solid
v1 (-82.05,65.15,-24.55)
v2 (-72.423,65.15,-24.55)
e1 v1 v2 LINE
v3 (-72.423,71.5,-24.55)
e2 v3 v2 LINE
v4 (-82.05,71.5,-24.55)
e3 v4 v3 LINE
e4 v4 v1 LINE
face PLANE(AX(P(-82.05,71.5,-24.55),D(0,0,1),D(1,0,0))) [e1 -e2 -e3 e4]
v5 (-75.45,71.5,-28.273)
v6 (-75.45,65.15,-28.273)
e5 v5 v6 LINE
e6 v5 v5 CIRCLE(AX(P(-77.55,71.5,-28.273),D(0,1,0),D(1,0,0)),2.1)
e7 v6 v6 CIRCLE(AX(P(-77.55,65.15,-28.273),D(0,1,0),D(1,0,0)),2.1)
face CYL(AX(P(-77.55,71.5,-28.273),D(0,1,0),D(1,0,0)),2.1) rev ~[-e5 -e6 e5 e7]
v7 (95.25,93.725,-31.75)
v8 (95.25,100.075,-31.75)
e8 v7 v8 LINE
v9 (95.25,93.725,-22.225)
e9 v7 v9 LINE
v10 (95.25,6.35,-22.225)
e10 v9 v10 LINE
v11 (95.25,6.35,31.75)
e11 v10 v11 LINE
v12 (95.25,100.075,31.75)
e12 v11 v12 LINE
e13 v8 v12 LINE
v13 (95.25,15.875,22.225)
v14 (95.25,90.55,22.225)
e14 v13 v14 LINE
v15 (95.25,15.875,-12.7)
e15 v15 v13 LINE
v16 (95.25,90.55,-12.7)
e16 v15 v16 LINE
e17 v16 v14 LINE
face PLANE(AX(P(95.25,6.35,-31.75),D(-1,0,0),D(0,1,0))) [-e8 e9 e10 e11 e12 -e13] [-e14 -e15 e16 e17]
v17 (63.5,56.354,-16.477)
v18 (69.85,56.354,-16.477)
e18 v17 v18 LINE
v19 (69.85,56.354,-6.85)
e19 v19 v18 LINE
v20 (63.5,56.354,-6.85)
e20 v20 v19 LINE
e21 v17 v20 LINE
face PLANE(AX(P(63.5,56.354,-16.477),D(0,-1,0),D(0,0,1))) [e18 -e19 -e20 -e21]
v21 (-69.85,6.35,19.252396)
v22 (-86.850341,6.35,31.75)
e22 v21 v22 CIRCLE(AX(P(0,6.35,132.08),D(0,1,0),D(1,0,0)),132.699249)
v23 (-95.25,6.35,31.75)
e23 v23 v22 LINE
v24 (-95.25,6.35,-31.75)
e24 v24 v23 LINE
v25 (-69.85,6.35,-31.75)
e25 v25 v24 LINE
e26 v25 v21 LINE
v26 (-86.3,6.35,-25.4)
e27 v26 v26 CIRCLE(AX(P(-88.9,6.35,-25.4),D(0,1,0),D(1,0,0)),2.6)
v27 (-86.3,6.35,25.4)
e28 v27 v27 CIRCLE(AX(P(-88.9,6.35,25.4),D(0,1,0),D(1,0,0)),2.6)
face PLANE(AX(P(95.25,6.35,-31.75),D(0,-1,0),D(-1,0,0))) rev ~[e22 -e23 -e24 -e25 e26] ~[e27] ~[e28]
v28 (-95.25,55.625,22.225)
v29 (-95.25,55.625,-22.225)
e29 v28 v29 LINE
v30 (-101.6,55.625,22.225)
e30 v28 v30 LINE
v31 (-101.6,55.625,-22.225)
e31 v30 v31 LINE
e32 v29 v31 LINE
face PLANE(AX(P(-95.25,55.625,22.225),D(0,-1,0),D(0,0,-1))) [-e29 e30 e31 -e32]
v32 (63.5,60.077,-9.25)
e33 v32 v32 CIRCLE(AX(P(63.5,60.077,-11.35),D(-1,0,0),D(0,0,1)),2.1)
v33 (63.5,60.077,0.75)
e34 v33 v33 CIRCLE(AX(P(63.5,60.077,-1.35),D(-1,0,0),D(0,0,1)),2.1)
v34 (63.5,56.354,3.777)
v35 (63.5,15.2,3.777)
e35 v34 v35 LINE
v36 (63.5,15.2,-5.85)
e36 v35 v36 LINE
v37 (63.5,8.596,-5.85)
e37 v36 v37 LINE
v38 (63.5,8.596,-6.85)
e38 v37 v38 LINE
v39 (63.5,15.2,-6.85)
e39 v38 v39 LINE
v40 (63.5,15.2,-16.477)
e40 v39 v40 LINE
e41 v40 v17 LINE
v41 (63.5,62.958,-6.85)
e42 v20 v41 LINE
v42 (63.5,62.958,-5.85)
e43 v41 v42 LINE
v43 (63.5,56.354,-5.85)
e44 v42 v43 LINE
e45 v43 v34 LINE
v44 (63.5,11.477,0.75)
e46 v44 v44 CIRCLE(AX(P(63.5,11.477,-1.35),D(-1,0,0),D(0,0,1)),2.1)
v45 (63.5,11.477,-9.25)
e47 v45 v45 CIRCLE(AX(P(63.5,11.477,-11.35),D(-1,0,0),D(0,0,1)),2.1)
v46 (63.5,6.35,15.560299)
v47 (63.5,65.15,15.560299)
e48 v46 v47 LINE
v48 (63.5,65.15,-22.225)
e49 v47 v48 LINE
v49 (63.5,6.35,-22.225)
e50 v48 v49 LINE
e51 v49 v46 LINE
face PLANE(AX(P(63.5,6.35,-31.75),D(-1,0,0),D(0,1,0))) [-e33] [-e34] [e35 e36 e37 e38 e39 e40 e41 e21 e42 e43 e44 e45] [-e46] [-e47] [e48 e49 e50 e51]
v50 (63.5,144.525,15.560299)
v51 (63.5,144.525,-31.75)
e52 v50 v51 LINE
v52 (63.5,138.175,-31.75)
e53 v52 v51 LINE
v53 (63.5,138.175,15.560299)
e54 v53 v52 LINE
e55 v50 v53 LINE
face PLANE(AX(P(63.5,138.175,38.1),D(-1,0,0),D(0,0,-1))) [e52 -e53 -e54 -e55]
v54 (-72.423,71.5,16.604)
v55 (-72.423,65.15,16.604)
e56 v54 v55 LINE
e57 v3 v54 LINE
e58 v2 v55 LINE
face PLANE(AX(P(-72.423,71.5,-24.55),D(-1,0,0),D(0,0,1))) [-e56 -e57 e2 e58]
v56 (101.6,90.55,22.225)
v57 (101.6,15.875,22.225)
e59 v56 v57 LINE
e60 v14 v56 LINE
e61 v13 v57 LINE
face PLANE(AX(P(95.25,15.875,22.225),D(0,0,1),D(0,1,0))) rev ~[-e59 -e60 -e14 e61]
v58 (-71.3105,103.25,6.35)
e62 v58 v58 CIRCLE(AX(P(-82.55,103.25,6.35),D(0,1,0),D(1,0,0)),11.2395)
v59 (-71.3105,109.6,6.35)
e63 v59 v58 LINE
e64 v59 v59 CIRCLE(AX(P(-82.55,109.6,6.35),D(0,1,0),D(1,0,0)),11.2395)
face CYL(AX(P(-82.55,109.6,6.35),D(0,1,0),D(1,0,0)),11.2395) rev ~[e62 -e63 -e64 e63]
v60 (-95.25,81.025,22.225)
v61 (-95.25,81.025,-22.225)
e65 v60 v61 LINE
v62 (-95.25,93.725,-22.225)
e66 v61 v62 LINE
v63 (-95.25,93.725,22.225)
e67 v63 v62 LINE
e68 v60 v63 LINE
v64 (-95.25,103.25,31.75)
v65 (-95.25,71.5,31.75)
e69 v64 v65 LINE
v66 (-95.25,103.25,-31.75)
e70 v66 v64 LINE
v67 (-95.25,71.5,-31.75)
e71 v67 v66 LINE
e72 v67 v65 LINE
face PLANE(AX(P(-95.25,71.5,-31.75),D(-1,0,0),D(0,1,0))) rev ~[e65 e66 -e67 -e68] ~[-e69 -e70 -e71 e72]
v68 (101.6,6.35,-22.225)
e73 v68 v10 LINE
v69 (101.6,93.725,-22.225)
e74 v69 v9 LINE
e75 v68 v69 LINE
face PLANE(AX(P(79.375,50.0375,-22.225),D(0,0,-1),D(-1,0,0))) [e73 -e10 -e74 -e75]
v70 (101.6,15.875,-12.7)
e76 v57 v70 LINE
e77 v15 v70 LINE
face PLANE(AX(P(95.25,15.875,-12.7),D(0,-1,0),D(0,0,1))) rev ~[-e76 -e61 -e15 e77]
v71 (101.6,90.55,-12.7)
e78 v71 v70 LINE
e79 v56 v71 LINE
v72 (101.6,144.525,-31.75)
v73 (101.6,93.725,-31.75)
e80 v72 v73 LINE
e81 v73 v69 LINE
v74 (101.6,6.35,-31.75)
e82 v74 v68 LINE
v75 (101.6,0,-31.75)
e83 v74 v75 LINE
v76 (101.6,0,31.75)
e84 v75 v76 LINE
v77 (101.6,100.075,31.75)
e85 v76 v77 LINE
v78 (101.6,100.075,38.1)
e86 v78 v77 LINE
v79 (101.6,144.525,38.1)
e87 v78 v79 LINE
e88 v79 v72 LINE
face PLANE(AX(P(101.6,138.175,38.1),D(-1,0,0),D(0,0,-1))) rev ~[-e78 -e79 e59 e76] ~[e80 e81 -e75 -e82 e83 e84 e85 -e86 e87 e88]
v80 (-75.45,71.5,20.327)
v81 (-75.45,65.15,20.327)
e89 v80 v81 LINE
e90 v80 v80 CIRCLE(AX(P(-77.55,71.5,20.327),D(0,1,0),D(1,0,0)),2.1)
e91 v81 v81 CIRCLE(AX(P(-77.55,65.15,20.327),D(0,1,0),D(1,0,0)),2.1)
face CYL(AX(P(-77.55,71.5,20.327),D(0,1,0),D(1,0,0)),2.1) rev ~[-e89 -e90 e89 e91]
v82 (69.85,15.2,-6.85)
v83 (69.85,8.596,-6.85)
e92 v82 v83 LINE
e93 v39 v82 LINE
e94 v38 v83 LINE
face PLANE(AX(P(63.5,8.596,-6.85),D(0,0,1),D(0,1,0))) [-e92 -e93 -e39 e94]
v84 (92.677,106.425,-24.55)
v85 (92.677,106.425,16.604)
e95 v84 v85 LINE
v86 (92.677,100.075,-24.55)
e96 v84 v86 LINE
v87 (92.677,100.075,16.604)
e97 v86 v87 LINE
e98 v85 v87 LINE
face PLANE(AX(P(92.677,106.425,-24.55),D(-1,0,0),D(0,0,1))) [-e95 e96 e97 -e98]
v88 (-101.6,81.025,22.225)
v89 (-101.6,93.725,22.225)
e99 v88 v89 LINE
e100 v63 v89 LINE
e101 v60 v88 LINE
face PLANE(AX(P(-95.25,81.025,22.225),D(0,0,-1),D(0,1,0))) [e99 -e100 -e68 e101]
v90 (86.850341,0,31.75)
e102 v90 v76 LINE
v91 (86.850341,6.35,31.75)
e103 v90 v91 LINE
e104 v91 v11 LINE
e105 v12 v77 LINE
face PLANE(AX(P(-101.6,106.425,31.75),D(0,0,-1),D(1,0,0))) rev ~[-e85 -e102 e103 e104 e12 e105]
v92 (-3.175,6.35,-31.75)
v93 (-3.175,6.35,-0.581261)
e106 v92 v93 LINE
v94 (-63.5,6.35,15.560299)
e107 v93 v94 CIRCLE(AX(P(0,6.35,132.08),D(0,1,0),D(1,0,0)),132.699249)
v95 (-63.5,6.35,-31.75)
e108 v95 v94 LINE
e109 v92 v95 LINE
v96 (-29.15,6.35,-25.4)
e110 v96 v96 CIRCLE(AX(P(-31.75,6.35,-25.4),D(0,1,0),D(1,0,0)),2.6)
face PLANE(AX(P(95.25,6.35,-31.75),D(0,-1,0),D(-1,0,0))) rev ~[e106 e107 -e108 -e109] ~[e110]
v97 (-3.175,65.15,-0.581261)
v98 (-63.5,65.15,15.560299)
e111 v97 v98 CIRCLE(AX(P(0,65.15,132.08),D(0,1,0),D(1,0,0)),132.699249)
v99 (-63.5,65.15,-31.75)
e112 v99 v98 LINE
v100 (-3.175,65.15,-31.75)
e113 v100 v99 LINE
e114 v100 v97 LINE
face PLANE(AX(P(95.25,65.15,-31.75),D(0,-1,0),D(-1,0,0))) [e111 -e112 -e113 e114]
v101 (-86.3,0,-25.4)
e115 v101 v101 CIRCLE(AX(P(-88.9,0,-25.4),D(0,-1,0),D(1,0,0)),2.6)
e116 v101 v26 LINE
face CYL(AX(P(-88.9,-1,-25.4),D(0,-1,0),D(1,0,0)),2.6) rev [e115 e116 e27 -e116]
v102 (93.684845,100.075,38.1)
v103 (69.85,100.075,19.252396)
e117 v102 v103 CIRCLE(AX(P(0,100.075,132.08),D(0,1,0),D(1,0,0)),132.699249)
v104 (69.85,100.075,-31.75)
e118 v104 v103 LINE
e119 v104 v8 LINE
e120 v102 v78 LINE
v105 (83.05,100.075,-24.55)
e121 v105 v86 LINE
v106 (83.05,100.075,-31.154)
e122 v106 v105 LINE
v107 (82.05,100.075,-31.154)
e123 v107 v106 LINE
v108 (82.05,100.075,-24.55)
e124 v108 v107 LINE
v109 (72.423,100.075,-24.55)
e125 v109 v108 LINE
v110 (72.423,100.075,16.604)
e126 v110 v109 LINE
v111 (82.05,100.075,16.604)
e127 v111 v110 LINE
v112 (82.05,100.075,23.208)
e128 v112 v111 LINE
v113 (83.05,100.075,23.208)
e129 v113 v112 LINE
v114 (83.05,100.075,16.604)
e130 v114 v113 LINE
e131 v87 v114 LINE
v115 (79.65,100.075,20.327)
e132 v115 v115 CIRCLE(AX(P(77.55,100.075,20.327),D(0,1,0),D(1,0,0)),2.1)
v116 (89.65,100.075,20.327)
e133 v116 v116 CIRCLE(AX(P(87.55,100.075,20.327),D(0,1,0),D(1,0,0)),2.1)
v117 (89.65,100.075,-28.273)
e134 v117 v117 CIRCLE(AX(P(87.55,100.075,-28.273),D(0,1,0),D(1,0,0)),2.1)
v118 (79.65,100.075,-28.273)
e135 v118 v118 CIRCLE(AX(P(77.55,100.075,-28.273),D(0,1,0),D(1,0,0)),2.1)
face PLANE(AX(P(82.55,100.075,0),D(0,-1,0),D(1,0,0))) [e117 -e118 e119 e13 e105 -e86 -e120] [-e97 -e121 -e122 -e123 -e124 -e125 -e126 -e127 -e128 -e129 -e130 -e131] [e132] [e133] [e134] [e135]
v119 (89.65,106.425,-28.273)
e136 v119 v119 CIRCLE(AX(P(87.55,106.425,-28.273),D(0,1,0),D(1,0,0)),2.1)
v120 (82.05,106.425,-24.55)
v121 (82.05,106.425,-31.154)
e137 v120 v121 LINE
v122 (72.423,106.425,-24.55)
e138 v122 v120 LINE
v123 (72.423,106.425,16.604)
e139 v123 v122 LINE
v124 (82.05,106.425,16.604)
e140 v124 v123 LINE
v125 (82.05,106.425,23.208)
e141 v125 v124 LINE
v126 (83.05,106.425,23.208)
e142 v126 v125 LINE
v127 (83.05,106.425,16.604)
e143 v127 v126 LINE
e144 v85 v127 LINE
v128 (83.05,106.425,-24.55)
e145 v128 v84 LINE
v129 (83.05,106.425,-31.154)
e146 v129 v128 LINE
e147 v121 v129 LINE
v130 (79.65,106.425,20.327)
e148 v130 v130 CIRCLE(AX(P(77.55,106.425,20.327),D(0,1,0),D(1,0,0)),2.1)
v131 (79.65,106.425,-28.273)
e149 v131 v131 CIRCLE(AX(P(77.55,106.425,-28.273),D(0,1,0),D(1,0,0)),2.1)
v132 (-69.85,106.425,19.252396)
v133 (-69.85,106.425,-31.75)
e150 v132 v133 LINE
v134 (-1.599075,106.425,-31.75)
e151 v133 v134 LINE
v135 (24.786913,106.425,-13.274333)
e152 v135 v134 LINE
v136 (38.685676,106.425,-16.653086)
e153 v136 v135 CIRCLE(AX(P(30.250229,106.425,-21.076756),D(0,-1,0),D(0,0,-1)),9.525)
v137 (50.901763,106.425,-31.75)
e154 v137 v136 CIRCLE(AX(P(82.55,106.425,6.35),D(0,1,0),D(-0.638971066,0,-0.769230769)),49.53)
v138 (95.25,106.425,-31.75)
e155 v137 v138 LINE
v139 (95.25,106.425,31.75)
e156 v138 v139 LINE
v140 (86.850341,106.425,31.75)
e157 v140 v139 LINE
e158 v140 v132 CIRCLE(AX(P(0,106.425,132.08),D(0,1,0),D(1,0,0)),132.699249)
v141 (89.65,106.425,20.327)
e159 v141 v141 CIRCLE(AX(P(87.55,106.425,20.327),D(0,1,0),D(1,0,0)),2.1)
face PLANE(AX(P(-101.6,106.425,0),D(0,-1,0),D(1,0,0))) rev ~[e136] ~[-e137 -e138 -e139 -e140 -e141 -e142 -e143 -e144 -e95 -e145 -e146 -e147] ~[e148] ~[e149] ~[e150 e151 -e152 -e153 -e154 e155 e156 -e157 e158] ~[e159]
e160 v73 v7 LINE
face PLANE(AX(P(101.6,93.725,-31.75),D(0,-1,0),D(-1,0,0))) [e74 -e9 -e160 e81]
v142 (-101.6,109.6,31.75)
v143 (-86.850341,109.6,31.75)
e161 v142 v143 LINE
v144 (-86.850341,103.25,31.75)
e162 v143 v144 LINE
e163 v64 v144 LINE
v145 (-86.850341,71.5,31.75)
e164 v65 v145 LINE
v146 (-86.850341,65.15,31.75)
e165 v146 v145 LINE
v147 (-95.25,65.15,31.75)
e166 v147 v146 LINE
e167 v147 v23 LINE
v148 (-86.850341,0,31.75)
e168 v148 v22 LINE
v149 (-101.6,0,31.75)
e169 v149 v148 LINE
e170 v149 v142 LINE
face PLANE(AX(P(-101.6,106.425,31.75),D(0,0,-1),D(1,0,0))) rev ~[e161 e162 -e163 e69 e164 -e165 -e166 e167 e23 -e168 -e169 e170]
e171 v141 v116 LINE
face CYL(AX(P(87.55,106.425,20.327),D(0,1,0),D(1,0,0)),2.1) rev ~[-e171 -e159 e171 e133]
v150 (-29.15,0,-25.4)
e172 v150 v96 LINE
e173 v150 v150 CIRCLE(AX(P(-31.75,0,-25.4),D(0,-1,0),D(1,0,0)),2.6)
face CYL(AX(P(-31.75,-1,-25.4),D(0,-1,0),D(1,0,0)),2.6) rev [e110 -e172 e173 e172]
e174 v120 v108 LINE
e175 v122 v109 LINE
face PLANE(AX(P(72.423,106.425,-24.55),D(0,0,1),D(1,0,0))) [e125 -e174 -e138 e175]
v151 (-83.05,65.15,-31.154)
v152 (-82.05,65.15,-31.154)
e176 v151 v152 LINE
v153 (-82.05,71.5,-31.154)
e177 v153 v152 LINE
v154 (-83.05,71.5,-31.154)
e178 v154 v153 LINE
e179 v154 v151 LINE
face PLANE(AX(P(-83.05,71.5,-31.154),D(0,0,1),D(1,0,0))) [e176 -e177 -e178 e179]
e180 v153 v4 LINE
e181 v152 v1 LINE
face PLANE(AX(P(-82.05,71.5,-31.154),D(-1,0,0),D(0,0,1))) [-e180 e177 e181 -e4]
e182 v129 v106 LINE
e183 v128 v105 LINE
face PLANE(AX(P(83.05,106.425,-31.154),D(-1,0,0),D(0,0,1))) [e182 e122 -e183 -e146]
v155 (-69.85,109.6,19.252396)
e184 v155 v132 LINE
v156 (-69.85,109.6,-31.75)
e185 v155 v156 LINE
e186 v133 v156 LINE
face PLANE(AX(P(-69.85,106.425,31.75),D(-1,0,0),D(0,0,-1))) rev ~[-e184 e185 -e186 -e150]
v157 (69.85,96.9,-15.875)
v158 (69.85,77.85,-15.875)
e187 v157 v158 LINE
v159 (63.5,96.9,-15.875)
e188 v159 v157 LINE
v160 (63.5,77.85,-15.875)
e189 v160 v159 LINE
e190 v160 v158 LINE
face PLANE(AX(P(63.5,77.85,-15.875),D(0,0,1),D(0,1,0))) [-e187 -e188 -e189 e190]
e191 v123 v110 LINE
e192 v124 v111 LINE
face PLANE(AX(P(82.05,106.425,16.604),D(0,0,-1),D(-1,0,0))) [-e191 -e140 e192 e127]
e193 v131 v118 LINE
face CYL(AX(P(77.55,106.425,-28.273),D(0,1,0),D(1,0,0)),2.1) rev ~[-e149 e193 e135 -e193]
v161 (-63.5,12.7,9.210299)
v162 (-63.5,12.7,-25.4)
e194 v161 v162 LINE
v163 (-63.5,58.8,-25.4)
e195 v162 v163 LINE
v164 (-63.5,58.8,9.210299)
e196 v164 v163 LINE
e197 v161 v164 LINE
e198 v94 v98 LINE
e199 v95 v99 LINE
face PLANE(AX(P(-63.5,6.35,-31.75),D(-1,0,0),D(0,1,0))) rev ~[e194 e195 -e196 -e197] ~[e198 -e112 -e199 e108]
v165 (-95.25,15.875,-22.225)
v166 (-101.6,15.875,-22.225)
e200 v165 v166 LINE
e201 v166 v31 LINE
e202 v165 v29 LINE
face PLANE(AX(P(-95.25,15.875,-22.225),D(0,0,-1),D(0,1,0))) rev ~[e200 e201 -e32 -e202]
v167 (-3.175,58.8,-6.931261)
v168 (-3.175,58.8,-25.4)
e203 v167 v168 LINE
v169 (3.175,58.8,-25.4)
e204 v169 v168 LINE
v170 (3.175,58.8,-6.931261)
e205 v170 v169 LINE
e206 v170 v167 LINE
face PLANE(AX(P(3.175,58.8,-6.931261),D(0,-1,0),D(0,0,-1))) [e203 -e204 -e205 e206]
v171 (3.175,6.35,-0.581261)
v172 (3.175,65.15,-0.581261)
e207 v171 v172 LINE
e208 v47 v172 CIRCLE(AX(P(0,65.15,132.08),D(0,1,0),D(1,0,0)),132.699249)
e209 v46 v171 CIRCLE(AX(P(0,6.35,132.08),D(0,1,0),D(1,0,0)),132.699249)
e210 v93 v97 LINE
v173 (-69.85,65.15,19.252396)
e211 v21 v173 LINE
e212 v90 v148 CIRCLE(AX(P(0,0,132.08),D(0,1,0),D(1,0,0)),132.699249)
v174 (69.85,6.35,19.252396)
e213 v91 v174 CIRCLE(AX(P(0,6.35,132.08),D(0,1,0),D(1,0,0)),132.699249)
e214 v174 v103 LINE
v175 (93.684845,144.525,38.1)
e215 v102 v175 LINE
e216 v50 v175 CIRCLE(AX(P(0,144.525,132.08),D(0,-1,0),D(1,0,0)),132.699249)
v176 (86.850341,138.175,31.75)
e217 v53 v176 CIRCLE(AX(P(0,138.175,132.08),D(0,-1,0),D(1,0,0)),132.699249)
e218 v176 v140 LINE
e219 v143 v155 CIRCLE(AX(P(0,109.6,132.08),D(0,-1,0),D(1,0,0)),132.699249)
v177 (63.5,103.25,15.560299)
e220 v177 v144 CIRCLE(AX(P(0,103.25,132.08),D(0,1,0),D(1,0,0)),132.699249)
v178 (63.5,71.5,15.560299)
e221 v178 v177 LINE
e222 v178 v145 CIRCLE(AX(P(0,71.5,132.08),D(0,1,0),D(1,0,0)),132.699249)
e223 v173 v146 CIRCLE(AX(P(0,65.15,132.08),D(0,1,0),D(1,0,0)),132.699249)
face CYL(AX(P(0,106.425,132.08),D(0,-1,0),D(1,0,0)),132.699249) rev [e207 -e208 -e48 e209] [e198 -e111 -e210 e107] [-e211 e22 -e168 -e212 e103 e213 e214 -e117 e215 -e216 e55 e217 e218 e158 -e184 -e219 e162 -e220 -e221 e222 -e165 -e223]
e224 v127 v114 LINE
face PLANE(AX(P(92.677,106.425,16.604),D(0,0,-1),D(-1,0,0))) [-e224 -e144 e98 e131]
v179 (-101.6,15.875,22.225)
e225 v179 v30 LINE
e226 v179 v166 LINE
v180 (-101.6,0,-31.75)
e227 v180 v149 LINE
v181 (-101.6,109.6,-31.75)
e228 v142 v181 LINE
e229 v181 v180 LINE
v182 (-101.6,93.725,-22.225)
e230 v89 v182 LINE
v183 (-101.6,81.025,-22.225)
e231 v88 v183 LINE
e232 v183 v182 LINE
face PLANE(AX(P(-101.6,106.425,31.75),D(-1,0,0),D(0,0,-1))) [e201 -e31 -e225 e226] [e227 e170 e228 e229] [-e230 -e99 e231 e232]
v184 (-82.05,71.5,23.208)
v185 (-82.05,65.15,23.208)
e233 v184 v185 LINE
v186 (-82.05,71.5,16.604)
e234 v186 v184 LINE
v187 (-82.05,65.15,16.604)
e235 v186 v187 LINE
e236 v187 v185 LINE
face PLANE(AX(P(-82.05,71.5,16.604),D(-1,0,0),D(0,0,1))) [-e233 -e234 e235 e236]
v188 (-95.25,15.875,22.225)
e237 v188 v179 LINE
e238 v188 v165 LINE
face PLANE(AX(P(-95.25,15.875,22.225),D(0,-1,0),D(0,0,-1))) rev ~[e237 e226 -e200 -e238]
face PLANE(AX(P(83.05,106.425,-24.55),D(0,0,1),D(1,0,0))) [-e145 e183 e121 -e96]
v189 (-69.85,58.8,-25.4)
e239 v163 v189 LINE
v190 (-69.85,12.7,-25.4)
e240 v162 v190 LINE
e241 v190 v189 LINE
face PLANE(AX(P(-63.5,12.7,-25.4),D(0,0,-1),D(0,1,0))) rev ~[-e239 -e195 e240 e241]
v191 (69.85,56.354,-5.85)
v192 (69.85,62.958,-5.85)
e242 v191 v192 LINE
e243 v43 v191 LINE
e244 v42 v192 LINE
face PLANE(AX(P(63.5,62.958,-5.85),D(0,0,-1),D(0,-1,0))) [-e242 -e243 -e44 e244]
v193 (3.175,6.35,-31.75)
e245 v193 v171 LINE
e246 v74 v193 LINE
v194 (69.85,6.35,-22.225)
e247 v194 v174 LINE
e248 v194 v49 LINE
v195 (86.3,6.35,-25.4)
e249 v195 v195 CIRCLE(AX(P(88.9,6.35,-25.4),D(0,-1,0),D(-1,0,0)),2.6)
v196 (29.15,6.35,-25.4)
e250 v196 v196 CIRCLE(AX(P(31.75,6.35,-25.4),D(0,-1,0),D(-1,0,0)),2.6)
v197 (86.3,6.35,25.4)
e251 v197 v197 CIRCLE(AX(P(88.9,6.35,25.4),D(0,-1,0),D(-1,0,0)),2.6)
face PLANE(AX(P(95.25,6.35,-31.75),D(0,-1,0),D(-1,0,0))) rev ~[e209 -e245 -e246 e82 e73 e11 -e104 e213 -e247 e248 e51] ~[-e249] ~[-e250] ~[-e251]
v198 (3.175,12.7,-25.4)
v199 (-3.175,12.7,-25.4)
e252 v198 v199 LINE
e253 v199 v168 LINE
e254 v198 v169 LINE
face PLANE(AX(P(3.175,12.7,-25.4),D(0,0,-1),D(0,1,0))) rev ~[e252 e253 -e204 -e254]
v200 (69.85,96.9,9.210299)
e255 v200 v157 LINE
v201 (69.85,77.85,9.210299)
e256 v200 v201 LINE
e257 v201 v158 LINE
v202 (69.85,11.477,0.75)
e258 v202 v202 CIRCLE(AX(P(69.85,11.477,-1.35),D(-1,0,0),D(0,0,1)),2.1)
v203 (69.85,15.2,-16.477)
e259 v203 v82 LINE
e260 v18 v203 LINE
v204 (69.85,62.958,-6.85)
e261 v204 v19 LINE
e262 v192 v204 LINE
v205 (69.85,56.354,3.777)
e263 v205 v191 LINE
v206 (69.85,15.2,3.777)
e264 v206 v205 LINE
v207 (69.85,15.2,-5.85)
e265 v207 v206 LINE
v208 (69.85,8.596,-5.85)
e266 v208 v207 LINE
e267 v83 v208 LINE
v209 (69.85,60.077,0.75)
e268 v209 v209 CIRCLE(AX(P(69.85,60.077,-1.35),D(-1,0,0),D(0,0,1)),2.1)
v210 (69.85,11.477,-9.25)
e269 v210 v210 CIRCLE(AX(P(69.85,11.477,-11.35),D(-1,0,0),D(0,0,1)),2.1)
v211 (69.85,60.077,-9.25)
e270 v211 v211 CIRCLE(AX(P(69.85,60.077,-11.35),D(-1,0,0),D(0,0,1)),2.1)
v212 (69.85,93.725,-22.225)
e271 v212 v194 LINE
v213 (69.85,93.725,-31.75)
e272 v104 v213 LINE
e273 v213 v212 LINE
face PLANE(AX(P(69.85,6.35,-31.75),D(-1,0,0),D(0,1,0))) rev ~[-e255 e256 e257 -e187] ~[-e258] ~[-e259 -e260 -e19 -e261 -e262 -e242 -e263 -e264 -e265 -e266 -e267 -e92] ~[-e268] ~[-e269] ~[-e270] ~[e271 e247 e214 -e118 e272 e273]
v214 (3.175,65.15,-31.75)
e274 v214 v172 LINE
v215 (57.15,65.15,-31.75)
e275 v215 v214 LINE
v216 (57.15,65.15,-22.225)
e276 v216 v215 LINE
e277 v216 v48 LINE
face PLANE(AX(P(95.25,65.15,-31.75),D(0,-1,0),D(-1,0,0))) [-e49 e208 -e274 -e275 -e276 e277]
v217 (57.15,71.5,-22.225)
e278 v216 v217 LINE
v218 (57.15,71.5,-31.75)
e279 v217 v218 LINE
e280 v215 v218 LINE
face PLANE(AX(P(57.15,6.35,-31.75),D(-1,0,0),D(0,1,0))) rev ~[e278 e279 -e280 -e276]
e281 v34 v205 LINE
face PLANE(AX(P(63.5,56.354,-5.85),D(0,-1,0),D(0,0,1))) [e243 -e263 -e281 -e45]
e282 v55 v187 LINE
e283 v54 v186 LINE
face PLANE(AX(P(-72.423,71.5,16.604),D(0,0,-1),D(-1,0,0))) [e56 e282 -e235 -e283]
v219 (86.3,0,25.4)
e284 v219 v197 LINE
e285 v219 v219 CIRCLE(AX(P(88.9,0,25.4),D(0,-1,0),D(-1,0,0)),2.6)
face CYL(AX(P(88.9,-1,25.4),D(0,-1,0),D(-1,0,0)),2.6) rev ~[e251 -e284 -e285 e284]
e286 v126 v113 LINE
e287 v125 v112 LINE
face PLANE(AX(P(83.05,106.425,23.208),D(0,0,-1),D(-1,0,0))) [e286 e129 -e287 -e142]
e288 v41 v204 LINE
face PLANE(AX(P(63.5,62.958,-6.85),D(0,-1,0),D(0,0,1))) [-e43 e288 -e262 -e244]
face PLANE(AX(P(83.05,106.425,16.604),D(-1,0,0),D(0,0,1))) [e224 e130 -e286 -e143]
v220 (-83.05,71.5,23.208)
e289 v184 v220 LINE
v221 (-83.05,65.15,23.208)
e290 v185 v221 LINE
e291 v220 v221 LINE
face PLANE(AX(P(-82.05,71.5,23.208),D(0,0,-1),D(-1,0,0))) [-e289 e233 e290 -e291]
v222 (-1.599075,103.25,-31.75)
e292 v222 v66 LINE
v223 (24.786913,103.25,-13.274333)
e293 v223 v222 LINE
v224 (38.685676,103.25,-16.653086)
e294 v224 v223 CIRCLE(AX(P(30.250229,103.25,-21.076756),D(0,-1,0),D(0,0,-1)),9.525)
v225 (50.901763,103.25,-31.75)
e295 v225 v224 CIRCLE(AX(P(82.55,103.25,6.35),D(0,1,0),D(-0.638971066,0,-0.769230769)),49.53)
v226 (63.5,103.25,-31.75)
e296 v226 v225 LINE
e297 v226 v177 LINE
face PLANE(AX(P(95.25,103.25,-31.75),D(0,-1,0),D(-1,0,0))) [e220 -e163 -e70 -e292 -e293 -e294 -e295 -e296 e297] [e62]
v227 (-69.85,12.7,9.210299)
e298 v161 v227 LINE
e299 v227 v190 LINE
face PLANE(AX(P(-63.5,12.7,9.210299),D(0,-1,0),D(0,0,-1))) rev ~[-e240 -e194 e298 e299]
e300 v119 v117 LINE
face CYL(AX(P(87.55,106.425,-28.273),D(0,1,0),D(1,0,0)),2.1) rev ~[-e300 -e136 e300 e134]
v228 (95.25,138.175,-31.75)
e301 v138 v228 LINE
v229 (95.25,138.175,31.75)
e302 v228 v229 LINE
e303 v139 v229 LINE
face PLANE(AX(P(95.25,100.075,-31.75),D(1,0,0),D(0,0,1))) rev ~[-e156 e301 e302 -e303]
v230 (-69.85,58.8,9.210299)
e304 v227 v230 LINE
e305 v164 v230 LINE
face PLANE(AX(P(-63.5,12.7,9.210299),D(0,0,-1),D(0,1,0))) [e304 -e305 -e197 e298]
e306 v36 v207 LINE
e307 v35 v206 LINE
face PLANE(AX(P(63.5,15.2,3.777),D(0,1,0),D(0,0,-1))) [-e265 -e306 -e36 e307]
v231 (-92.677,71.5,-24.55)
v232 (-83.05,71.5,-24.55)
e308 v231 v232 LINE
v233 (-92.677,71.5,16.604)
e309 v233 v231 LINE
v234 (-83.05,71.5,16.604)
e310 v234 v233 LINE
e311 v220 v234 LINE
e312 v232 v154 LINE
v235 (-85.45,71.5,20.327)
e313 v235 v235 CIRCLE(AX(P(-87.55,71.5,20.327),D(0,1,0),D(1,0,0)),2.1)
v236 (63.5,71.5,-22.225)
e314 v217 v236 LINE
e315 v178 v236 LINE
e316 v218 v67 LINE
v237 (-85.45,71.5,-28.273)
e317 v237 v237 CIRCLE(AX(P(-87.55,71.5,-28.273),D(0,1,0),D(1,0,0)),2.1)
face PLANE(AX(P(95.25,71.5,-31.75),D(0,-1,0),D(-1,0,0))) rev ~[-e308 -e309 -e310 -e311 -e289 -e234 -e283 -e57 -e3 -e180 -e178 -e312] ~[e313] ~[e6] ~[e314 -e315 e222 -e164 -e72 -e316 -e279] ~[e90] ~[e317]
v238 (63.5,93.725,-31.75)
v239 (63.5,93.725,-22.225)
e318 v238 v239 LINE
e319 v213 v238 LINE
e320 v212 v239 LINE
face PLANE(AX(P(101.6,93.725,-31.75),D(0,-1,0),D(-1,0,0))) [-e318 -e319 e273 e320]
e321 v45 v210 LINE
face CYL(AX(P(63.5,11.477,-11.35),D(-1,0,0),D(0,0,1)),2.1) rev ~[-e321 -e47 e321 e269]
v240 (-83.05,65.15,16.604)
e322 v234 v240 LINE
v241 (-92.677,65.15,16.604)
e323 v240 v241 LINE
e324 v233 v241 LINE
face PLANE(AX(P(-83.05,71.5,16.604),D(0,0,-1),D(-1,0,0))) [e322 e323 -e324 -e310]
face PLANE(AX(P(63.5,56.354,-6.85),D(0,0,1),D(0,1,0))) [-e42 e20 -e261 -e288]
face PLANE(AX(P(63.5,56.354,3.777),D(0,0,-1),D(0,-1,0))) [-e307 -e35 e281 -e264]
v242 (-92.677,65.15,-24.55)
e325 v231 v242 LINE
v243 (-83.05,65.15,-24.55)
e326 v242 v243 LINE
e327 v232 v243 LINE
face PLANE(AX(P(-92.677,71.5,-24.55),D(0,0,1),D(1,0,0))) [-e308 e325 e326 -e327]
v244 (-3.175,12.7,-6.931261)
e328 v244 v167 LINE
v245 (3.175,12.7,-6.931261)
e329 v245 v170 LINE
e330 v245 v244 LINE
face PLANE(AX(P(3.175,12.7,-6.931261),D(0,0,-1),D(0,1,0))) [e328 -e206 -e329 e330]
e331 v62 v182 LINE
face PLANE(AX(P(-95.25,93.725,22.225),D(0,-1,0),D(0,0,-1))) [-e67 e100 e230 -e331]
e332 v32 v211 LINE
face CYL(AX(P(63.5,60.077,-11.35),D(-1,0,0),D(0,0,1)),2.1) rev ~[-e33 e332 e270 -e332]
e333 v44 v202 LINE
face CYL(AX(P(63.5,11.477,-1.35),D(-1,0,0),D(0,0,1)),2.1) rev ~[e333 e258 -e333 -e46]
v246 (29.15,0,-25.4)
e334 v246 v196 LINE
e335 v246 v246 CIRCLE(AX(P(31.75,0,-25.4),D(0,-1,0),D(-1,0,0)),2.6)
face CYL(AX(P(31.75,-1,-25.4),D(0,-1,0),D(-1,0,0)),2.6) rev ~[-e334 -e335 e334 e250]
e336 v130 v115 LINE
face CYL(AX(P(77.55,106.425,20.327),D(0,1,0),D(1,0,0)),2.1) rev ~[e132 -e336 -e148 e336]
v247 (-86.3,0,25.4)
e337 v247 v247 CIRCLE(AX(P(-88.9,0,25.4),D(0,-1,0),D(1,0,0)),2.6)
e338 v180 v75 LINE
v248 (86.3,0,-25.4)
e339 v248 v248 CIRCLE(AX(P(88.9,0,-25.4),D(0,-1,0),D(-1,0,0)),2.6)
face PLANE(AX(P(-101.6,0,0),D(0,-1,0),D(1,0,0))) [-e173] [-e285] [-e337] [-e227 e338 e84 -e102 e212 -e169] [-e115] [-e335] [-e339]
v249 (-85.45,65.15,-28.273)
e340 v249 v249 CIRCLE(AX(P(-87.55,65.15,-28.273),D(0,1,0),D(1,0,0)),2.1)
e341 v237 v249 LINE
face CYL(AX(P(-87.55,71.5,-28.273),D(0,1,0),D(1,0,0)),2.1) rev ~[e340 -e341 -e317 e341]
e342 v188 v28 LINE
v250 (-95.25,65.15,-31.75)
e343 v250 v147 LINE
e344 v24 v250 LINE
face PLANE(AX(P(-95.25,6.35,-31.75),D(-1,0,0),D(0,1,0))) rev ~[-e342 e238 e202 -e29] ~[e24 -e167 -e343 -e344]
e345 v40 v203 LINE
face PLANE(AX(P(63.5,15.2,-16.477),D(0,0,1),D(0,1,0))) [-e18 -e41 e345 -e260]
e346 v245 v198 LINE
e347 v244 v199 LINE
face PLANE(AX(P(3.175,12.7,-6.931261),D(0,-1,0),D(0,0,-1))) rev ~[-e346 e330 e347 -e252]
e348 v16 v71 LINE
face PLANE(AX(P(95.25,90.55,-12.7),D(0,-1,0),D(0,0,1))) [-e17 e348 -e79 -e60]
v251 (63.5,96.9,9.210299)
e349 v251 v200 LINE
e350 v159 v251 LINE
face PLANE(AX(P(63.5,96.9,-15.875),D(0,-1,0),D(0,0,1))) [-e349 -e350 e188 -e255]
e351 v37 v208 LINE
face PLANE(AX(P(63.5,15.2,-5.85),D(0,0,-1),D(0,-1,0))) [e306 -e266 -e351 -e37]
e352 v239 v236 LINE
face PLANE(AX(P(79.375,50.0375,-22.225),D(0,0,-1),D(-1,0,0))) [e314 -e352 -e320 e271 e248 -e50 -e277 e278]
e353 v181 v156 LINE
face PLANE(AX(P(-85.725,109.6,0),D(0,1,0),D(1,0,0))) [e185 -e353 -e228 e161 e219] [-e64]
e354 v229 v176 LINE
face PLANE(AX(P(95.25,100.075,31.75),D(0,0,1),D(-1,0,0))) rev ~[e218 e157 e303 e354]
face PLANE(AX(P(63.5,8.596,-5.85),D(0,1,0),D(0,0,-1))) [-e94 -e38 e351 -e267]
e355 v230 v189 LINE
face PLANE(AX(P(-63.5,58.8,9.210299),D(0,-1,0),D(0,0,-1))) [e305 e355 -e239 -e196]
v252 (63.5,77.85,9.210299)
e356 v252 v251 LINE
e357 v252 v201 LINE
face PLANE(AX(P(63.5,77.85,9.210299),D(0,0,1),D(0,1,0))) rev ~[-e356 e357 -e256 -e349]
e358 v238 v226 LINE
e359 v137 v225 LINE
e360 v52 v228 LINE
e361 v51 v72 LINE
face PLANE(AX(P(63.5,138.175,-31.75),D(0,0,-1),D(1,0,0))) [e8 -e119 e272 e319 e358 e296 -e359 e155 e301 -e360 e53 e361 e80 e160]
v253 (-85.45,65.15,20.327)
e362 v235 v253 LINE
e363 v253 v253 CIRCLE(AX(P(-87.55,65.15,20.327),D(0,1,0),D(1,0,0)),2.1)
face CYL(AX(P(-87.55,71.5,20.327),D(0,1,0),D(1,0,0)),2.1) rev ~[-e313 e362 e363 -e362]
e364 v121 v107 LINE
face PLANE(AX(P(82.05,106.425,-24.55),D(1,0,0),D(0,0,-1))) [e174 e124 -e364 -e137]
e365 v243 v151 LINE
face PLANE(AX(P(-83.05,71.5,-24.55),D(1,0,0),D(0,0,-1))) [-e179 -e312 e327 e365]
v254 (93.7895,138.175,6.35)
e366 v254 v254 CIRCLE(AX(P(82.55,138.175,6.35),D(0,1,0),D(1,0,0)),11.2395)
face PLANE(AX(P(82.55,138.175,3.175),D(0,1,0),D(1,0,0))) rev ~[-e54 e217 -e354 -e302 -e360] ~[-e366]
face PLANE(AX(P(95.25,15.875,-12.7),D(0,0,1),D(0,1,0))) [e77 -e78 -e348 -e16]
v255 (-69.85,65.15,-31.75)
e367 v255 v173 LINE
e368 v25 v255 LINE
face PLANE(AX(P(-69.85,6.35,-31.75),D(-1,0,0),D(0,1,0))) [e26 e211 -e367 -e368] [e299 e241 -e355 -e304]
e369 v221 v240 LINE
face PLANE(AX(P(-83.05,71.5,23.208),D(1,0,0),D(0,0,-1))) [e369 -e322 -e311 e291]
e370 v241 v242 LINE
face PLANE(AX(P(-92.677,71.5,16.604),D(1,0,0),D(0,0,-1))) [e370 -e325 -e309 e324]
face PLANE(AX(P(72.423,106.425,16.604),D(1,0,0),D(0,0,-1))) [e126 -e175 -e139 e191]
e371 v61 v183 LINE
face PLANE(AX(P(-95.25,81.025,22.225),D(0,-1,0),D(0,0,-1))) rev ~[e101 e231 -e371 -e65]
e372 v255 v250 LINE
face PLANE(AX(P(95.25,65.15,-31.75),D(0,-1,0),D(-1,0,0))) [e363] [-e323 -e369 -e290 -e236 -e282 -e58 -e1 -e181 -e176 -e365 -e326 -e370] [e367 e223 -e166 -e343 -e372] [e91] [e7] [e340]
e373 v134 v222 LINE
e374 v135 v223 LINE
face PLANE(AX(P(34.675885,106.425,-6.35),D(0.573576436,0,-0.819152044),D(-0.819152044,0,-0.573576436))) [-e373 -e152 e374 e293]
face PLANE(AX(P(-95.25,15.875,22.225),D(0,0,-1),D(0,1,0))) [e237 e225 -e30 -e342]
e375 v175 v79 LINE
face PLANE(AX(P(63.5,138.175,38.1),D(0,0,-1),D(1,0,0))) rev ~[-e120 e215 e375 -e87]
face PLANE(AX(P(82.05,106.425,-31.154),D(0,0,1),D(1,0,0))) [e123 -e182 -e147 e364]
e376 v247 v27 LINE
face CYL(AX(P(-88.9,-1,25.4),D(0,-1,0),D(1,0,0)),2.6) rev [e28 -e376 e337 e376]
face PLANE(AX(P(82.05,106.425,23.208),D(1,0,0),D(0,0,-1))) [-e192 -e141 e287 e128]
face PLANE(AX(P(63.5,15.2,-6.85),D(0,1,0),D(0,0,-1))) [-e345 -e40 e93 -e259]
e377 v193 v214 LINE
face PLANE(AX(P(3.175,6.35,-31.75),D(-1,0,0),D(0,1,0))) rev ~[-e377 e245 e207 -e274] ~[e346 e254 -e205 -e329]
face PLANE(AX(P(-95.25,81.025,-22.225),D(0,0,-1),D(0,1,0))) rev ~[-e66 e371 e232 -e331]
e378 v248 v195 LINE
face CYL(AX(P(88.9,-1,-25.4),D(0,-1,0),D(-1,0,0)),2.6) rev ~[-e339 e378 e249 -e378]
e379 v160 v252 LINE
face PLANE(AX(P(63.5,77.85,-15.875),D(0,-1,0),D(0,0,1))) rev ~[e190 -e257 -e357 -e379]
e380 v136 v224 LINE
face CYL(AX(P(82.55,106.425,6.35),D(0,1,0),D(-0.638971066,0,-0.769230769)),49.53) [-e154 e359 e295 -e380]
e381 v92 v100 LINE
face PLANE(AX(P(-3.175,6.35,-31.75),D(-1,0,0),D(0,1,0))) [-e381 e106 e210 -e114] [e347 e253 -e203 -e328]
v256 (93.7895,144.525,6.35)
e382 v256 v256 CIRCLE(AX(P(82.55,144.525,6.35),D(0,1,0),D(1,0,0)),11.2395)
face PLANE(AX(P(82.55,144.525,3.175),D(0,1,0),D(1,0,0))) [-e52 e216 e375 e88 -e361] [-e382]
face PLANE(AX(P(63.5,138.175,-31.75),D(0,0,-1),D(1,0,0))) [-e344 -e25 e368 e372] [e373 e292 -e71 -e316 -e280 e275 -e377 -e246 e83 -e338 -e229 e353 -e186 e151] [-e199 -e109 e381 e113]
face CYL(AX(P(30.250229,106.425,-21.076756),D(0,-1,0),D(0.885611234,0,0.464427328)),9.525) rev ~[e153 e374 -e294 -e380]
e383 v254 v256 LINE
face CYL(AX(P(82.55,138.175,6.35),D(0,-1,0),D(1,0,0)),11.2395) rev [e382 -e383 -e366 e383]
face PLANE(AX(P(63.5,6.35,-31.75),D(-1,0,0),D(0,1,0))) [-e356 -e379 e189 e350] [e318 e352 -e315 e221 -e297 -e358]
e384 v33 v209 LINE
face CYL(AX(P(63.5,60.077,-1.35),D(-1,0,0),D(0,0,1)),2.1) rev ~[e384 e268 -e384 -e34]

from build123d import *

# Parameters (mm, degrees)
SKETCH1_W               = 203.2
SKETCH1_H               = 106.425000002
BOSS_EXTRUDE1_DEPTH     = 31.75
SKETCH4_W               = 190.5
SKETCH4_H               = 31.75
SKETCH4_H_2             = 58.800000002
CUT_EXTRUDE2_DEPTH      = 64.5
BOSS_EXTRUDE2_START     = -31.75
SKETCH8_W               = 6.35
SKETCH8_H               = 58.800000002
SKETCH8_H_2             = 96.900000002
BOSS_EXTRUDE2_DEPTH     = 63.5
SKETCH15_W              = 25.4
SKETCH15_H              = 63.5
BOSS_EXTRUDE4_DEPTH     = 3.175
CUT_EXTRUDE3_REACH      = 73.5
SKETCH2_R               = 2.099999991
SKETCH2_W               = 25.4
SKETCH2_H               = 63.5
CUT_EXTRUDE4_REACH      = 108.425
SKETCH9_R               = 2.099999991
CUT_EXTRUDE7_START      = -1
SKETCH12_R              = 2.600000007
CUT_EXTRUDE7_DEPTH      = 7.35
SKETCH16_W              = 31.75
SKETCH16_H              = 63.5
BOSS_EXTRUDE5_DEPTH     = 3.175
CUT_EXTRUDE8_REACH      = 111.6
SKETCH17_R              = 11.2395
BOSS_EXTRUDE6_START     = -6.35
BOSS_EXTRUDE6_DEPTH     = 38.1
SKETCH20_W              = 38.1
SKETCH20_H              = 69.85
SKETCH20_R              = 11.2395
BOSS_EXTRUDE7_DEPTH     = 6.35
SKETCH10_R              = 132.699248966
CUT_EXTRUDE5_DEPTH      = 39.1
CUT_EXTRUDE5_DEPTH_BACK = 107.425000002
CUT_EXTRUDE10_DEPTH     = 3.175
SKETCH23_W              = 44.45
SKETCH23_H              = 87.375000002
CUT_EXTRUDE11_DEPTH     = 9.525
CUT_EXTRUDE12_REACH     = 40.1
SKETCH24_R              = 2.099999991
CUT_EXTRUDE13_REACH     = 8.35
SKETCH26_W              = 34.925
SKETCH26_H              = 74.675000002
CUT_EXTRUDE14_REACH     = 40.1
SKETCH27_W              = 25.085299193
SKETCH27_H              = 19.05
CUT_EXTRUDE15_REACH     = 106.775
SKETCH28_W              = 18.468739448
SKETCH28_H              = 46.100000002
CUT_EXTRUDE16_REACH     = 40.1
SKETCH29_W              = 34.610299193
SKETCH29_H              = 46.100000002
CUT_EXTRUDE17_REACH     = 8.35
SKETCH30_W              = 44.45
SKETCH30_H              = 39.750000002
CUT_EXTRUDE18_REACH     = 8.35
SKETCH31_W              = 44.45
SKETCH31_H              = 12.7
FILLET1_R               = 9.525


with BuildPart() as part:
    # Sketch1 → Boss-Extrude1 (new body, symmetric)
    with BuildSketch(Plane.XY):
        with Locations((0, 53.212500001)):
            Rectangle(SKETCH1_W, SKETCH1_H)
    extrude(amount=BOSS_EXTRUDE1_DEPTH, both=True)

    # Sketch4 → Cut-Extrude2 (cut, through all)
    with BuildSketch(Plane(origin=(0, 0, -31.75), x_dir=(-1, 0, 0), z_dir=(0, 0, -1))):
        with Locations((0, 87.375000002)):
            Rectangle(SKETCH4_W, SKETCH4_H)
        with Locations((0, 35.750000001)):
            Rectangle(SKETCH4_W, SKETCH4_H_2)
    extrude(amount=-CUT_EXTRUDE2_DEPTH, mode=Mode.SUBTRACT)

    # Sketch8 → Boss-Extrude2 (add)
    with BuildSketch(Plane.XY.offset(BOSS_EXTRUDE2_START)):
        with Locations((-66.675, 35.750000001)):
            Rectangle(SKETCH8_W, SKETCH8_H)
        with Locations((66.675, 54.800000001)):
            Rectangle(SKETCH8_W, SKETCH8_H_2)
        with Locations((0, 35.750000001)):
            Rectangle(SKETCH8_W, SKETCH8_H)
    extrude(amount=BOSS_EXTRUDE2_DEPTH)

    # Sketch15 → Boss-Extrude4 (add)
    with BuildSketch(Plane.XZ.offset(-103.250000002)):
        with Locations((82.55, 0)):
            Rectangle(SKETCH15_W, SKETCH15_H)
    extrude(amount=BOSS_EXTRUDE4_DEPTH)

    # Sketch2 → Cut-Extrude3 (cut, up to next)
    with BuildSketch(Plane(origin=(0, 71.500000002, 0), x_dir=(1, 0, 0), z_dir=(0, 1, 0)), mode=Mode.PRIVATE) as cut_extrude3_sk1:
        with Locations((-87.550000033, -20.327000113)):
            Circle(SKETCH2_R)
    cut_extrude3_tool1 = extrude(cut_extrude3_sk1.sketch, amount=-CUT_EXTRUDE3_REACH, mode=Mode.PRIVATE) & part.part
    add(cut_extrude3_tool1.solids().sort_by_distance((-87.55, 71.5, 20.327))[0], mode=Mode.SUBTRACT)
    # Sketch2 → Cut-Extrude3 (cut, up to next)
    with BuildSketch(Plane(origin=(0, 71.500000002, 0), x_dir=(1, 0, 0), z_dir=(0, 1, 0)), mode=Mode.PRIVATE) as cut_extrude3_sk2:
        with Locations((-77.549999967, -20.327000113)):
            Circle(SKETCH2_R)
    cut_extrude3_tool2 = extrude(cut_extrude3_sk2.sketch, amount=-CUT_EXTRUDE3_REACH, mode=Mode.PRIVATE) & part.part
    add(cut_extrude3_tool2.solids().sort_by_distance((-77.55, 71.5, 20.327))[0], mode=Mode.SUBTRACT)
    # Sketch2 → Cut-Extrude3 (cut, up to next)
    with BuildSketch(Plane(origin=(0, 71.500000002, 0), x_dir=(1, 0, 0), z_dir=(0, 1, 0)), mode=Mode.PRIVATE) as cut_extrude3_sk3:
        with Locations((-87.550000033, 28.272999969)):
            Circle(SKETCH2_R)
    cut_extrude3_tool3 = extrude(cut_extrude3_sk3.sketch, amount=-CUT_EXTRUDE3_REACH, mode=Mode.PRIVATE) & part.part
    add(cut_extrude3_tool3.solids().sort_by_distance((-87.55, 71.5, -28.273))[0], mode=Mode.SUBTRACT)
    # Sketch2 → Cut-Extrude3 (cut, up to next)
    with BuildSketch(Plane(origin=(0, 71.500000002, 0), x_dir=(1, 0, 0), z_dir=(0, 1, 0)), mode=Mode.PRIVATE) as cut_extrude3_sk4:
        with Locations((-77.549999967, 28.272999969)):
            Circle(SKETCH2_R)
    cut_extrude3_tool4 = extrude(cut_extrude3_sk4.sketch, amount=-CUT_EXTRUDE3_REACH, mode=Mode.PRIVATE) & part.part
    add(cut_extrude3_tool4.solids().sort_by_distance((-77.55, 71.5, -28.273))[0], mode=Mode.SUBTRACT)
    # Sketch2 → Cut-Extrude3 (cut, up to next)
    with BuildSketch(Plane(origin=(0, 71.500000002, 0), x_dir=(1, 0, 0), z_dir=(0, 1, 0)), mode=Mode.PRIVATE) as cut_extrude3_sk5:
        Polygon((-92.676999939, 24.549999922), (-83.05, 24.549999922), (-83.05, 31.153999922), (-82.05, 31.153999922), (-82.05, 24.549999922), (-72.423000061, 24.549999922), (-72.423000061, -16.604000066), (-82.05, -16.604000066), (-82.05, -23.208000066), (-83.05, -23.208000066), (-83.05, -16.604000066), (-92.676999939, -16.604000066), align=None)
    cut_extrude3_tool5 = extrude(cut_extrude3_sk5.sketch, amount=-CUT_EXTRUDE3_REACH, mode=Mode.PRIVATE) & part.part
    add(cut_extrude3_tool5.solids().sort_by_distance((-82.55, 71.5, -3.973))[0], mode=Mode.SUBTRACT)
    # Sketch2 → Cut-Extrude3 (cut, up to next)
    with BuildSketch(Plane(origin=(0, 71.500000002, 0), x_dir=(1, 0, 0), z_dir=(0, 1, 0)), mode=Mode.PRIVATE) as cut_extrude3_sk6:
        with Locations((82.55, 0)):
            Rectangle(SKETCH2_W, SKETCH2_H)
    cut_extrude3_tool6 = extrude(cut_extrude3_sk6.sketch, amount=-CUT_EXTRUDE3_REACH, mode=Mode.PRIVATE) & part.part
    add(cut_extrude3_tool6.solids().sort_by_distance((82.55, 71.5, 0))[0], mode=Mode.SUBTRACT)

    # Sketch9 → Cut-Extrude4 (cut, up to next)
    with BuildSketch(Plane(origin=(0, 106.425000002, 0), x_dir=(1, 0, 0), z_dir=(0, 1, 0)), mode=Mode.PRIVATE) as cut_extrude4_sk1:
        with Locations((77.549999967, -20.327000113)):
            Circle(SKETCH9_R)
    cut_extrude4_tool1 = extrude(cut_extrude4_sk1.sketch, amount=-CUT_EXTRUDE4_REACH, mode=Mode.PRIVATE) & part.part
    add(cut_extrude4_tool1.solids().sort_by_distance((77.55, 106.425, 20.327))[0], mode=Mode.SUBTRACT)
    # Sketch9 → Cut-Extrude4 (cut, up to next)
    with BuildSketch(Plane(origin=(0, 106.425000002, 0), x_dir=(1, 0, 0), z_dir=(0, 1, 0)), mode=Mode.PRIVATE) as cut_extrude4_sk2:
        with Locations((87.550000033, -20.327000113)):
            Circle(SKETCH9_R)
    cut_extrude4_tool2 = extrude(cut_extrude4_sk2.sketch, amount=-CUT_EXTRUDE4_REACH, mode=Mode.PRIVATE) & part.part
    add(cut_extrude4_tool2.solids().sort_by_distance((87.55, 106.425, 20.327))[0], mode=Mode.SUBTRACT)
    # Sketch9 → Cut-Extrude4 (cut, up to next)
    with BuildSketch(Plane(origin=(0, 106.425000002, 0), x_dir=(1, 0, 0), z_dir=(0, 1, 0)), mode=Mode.PRIVATE) as cut_extrude4_sk3:
        with Locations((77.549999967, 28.272999969)):
            Circle(SKETCH9_R)
    cut_extrude4_tool3 = extrude(cut_extrude4_sk3.sketch, amount=-CUT_EXTRUDE4_REACH, mode=Mode.PRIVATE) & part.part
    add(cut_extrude4_tool3.solids().sort_by_distance((77.55, 106.425, -28.273))[0], mode=Mode.SUBTRACT)
    # Sketch9 → Cut-Extrude4 (cut, up to next)
    with BuildSketch(Plane(origin=(0, 106.425000002, 0), x_dir=(1, 0, 0), z_dir=(0, 1, 0)), mode=Mode.PRIVATE) as cut_extrude4_sk4:
        with Locations((87.550000033, 28.272999969)):
            Circle(SKETCH9_R)
    cut_extrude4_tool4 = extrude(cut_extrude4_sk4.sketch, amount=-CUT_EXTRUDE4_REACH, mode=Mode.PRIVATE) & part.part
    add(cut_extrude4_tool4.solids().sort_by_distance((87.55, 106.425, -28.273))[0], mode=Mode.SUBTRACT)
    # Sketch9 → Cut-Extrude4 (cut, up to next)
    with BuildSketch(Plane(origin=(0, 106.425000002, 0), x_dir=(1, 0, 0), z_dir=(0, 1, 0)), mode=Mode.PRIVATE) as cut_extrude4_sk5:
        Polygon((72.423000061, 24.549999922), (82.05, 24.549999922), (82.05, 31.153999922), (83.05, 31.153999922), (83.05, 24.549999922), (92.676999939, 24.549999922), (92.676999939, -16.604000066), (83.05, -16.604000066), (83.05, -23.208000066), (82.05, -23.208000066), (82.05, -16.604000066), (72.423000061, -16.604000066), align=None)
    cut_extrude4_tool5 = extrude(cut_extrude4_sk5.sketch, amount=-CUT_EXTRUDE4_REACH, mode=Mode.PRIVATE) & part.part
    add(cut_extrude4_tool5.solids().sort_by_distance((82.55, 106.425, -3.973))[0], mode=Mode.SUBTRACT)

    # Sketch12 → Cut-Extrude7 (cut)
    with BuildSketch(Plane(origin=(0, 0, 0), x_dir=(1, 0, 0), z_dir=(0, 1, 0)).offset(CUT_EXTRUDE7_START)):
        with Locations((-88.9, 25.4)):
            Circle(SKETCH12_R)
        with Locations((-88.9, -25.4)):
            Circle(SKETCH12_R)
        with Locations((-31.75, 25.4)):
            Circle(SKETCH12_R)
    cut_extrude7 = extrude(amount=CUT_EXTRUDE7_DEPTH, mode=Mode.SUBTRACT)

    # Mirror1: Cut-Extrude7 across plane
    add(cut_extrude7.mirror(Plane(origin=(0, 0, 0), x_dir=(0, 0, 1), z_dir=(1, 0, 0))), mode=Mode.SUBTRACT)

    # Sketch16 → Boss-Extrude5 (add)
    with BuildSketch(Plane(origin=(0, 106.425000002, 0), x_dir=(1, 0, 0), z_dir=(0, 1, 0))):
        with Locations((-85.725, 0)):
            Rectangle(SKETCH16_W, SKETCH16_H)
    extrude(amount=BOSS_EXTRUDE5_DEPTH)

    # Sketch17 → Cut-Extrude8 (cut, up to next)
    with BuildSketch(Plane(origin=(0, 109.600000002, 0), x_dir=(1, 0, 0), z_dir=(0, 1, 0)), mode=Mode.PRIVATE) as cut_extrude8_sk1:
        with Locations((-82.55, -6.35)):
            Circle(SKETCH17_R)
    cut_extrude8_tool1 = extrude(cut_extrude8_sk1.sketch, amount=-CUT_EXTRUDE8_REACH, mode=Mode.PRIVATE) & part.part
    add(cut_extrude8_tool1.solids().sort_by_distance((-82.55, 109.6, 6.35))[0], mode=Mode.SUBTRACT)

    # Sketch18 → Boss-Extrude6 (add)
    with BuildSketch(Plane(origin=(0, 106.425000002, 0), x_dir=(1, 0, 0), z_dir=(0, 1, 0)).offset(BOSS_EXTRUDE6_START)):
        Polygon((101.6, -31.75), (101.6, 31.75), (95.25, 31.75), (95.25, -31.75), (82.55, -31.75), (82.55, -38.1), (101.6, -38.1), align=None)
    extrude(amount=BOSS_EXTRUDE6_DEPTH)

    # Sketch20 → Boss-Extrude7 (add)
    with BuildSketch(Plane(origin=(0, 138.175000002, 0), x_dir=(1, 0, 0), z_dir=(0, 1, 0))):
        with Locations((82.55, -3.175)):
            Rectangle(SKETCH20_W, SKETCH20_H)
        with Locations((82.55, -6.35)):
            Circle(SKETCH20_R, mode=Mode.SUBTRACT)
    extrude(amount=BOSS_EXTRUDE7_DEPTH)

    # Sketch10 → Cut-Extrude5 (cut, two sides)
    with BuildSketch(Plane(origin=(0, 106.425000002, 0), x_dir=(1, 0, 0), z_dir=(0, 1, 0))) as cut_extrude5_sk:
        with Locations((0, -132.08)):
            Circle(SKETCH10_R)
    extrude(amount=CUT_EXTRUDE5_DEPTH, mode=Mode.SUBTRACT)
    extrude(cut_extrude5_sk.sketch, amount=-CUT_EXTRUDE5_DEPTH_BACK, mode=Mode.SUBTRACT)

    # Sketch21 → Cut-Extrude10 (cut)
    with BuildSketch(Plane(origin=(0, 106.425000002, 0), x_dir=(1, 0, 0), z_dir=(0, 1, 0))):
        with BuildLine():
            Line((34.675884865, 6.35), (-1.599074507, 31.75))
            Line((-1.599074507, 31.75), (50.901763082, 31.75))
            ThreePointArc((50.901763082, 31.75), (40.809838057, 20.314204113), (34.675884865, 6.35))
        make_face()
    extrude(amount=-CUT_EXTRUDE10_DEPTH, mode=Mode.SUBTRACT)

    # Sketch23 → Cut-Extrude11 (cut)
    with BuildSketch(Plane(origin=(0, 0, -31.75), x_dir=(-1, 0, 0), z_dir=(0, 0, -1))):
        with Locations((-79.375, 50.037500001)):
            Rectangle(SKETCH23_W, SKETCH23_H)
    extrude(amount=-CUT_EXTRUDE11_DEPTH, mode=Mode.SUBTRACT)

    # Sketch24 → Cut-Extrude12 (cut, up to next)
    with BuildSketch(Plane.ZY.offset(-63.5), mode=Mode.PRIVATE) as cut_extrude12_sk1:
        with Locations((-11.350000033, 11.477000033)):
            Circle(SKETCH24_R)
    cut_extrude12_tool1 = extrude(cut_extrude12_sk1.sketch, amount=-CUT_EXTRUDE12_REACH, mode=Mode.PRIVATE) & part.part
    add(cut_extrude12_tool1.solids().sort_by_distance((63.5, 11.477, -11.35))[0], mode=Mode.SUBTRACT)
    # Sketch24 → Cut-Extrude12 (cut, up to next)
    with BuildSketch(Plane.ZY.offset(-63.5), mode=Mode.PRIVATE) as cut_extrude12_sk2:
        with Locations((-1.349999967, 11.477000033)):
            Circle(SKETCH24_R)
    cut_extrude12_tool2 = extrude(cut_extrude12_sk2.sketch, amount=-CUT_EXTRUDE12_REACH, mode=Mode.PRIVATE) & part.part
    add(cut_extrude12_tool2.solids().sort_by_distance((63.5, 11.477, -1.35))[0], mode=Mode.SUBTRACT)
    # Sketch24 → Cut-Extrude12 (cut, up to next)
    with BuildSketch(Plane.ZY.offset(-63.5), mode=Mode.PRIVATE) as cut_extrude12_sk3:
        with Locations((-11.350000033, 60.077000115)):
            Circle(SKETCH24_R)
    cut_extrude12_tool3 = extrude(cut_extrude12_sk3.sketch, amount=-CUT_EXTRUDE12_REACH, mode=Mode.PRIVATE) & part.part
    add(cut_extrude12_tool3.solids().sort_by_distance((63.5, 60.077, -11.35))[0], mode=Mode.SUBTRACT)
    # Sketch24 → Cut-Extrude12 (cut, up to next)
    with BuildSketch(Plane.ZY.offset(-63.5), mode=Mode.PRIVATE) as cut_extrude12_sk4:
        with Locations((-1.349999967, 60.077000115)):
            Circle(SKETCH24_R)
    cut_extrude12_tool4 = extrude(cut_extrude12_sk4.sketch, amount=-CUT_EXTRUDE12_REACH, mode=Mode.PRIVATE) & part.part
    add(cut_extrude12_tool4.solids().sort_by_distance((63.5, 60.077, -1.35))[0], mode=Mode.SUBTRACT)
    # Sketch24 → Cut-Extrude12 (cut, up to next)
    with BuildSketch(Plane.ZY.offset(-63.5), mode=Mode.PRIVATE) as cut_extrude12_sk5:
        Polygon((-16.476999939, 56.354000068), (-6.85, 56.354000068), (-6.85, 62.958000068), (-5.85, 62.958000068), (-5.85, 56.354000068), (3.776999939, 56.354000068), (3.776999939, 15.20000008), (-5.85, 15.20000008), (-5.85, 8.59600008), (-6.85, 8.59600008), (-6.85, 15.20000008), (-16.476999939, 15.20000008), align=None)
    cut_extrude12_tool5 = extrude(cut_extrude12_sk5.sketch, amount=-CUT_EXTRUDE12_REACH, mode=Mode.PRIVATE) & part.part
    add(cut_extrude12_tool5.solids().sort_by_distance((63.5, 35.777, -6.35))[0], mode=Mode.SUBTRACT)

    # Sketch26 → Cut-Extrude13 (cut, up to next)
    with BuildSketch(Plane.ZY.offset(-95.25), mode=Mode.PRIVATE) as cut_extrude13_sk1:
        with Locations((4.7625, 53.212500001)):
            Rectangle(SKETCH26_W, SKETCH26_H)
    cut_extrude13_tool1 = extrude(cut_extrude13_sk1.sketch, amount=-CUT_EXTRUDE13_REACH, mode=Mode.PRIVATE) & part.part
    add(cut_extrude13_tool1.solids().sort_by_distance((95.25, 53.2125, 4.7625))[0], mode=Mode.SUBTRACT)

    # Sketch27 → Cut-Extrude14 (cut, up to next)
    with BuildSketch(Plane.ZY.offset(-63.5), mode=Mode.PRIVATE) as cut_extrude14_sk1:
        with Locations((-3.332350404, 87.375000002)):
            Rectangle(SKETCH27_W, SKETCH27_H)
    cut_extrude14_tool1 = extrude(cut_extrude14_sk1.sketch, amount=-CUT_EXTRUDE14_REACH, mode=Mode.PRIVATE) & part.part
    add(cut_extrude14_tool1.solids().sort_by_distance((63.5, 87.375, -3.33235))[0], mode=Mode.SUBTRACT)

    # Sketch28 → Cut-Extrude15 (cut, up to next)
    with BuildSketch(Plane(origin=(3.175, 0, 0), x_dir=(0, 0, -1), z_dir=(1, 0, 0)), mode=Mode.PRIVATE) as cut_extrude15_sk1:
        with Locations((16.165630276, 35.750000001)):
            Rectangle(SKETCH28_W, SKETCH28_H)
    cut_extrude15_tool1 = extrude(cut_extrude15_sk1.sketch, amount=-CUT_EXTRUDE15_REACH, mode=Mode.PRIVATE) & part.part
    add(cut_extrude15_tool1.solids().sort_by_distance((3.175, 35.75, -16.16563))[0], mode=Mode.SUBTRACT)

    # Sketch29 → Cut-Extrude16 (cut, up to next)
    with BuildSketch(Plane(origin=(-63.5, 0, 0), x_dir=(0, 0, -1), z_dir=(1, 0, 0)), mode=Mode.PRIVATE) as cut_extrude16_sk1:
        with Locations((8.094850404, 35.750000001)):
            Rectangle(SKETCH29_W, SKETCH29_H)
    cut_extrude16_tool1 = extrude(cut_extrude16_sk1.sketch, amount=-CUT_EXTRUDE16_REACH, mode=Mode.PRIVATE) & part.part
    add(cut_extrude16_tool1.solids().sort_by_distance((-63.5, 35.75, -8.09485))[0], mode=Mode.SUBTRACT)

    # Sketch30 → Cut-Extrude17 (cut, up to next)
    with BuildSketch(Plane(origin=(-95.25, 0, 0), x_dir=(0, 0, -1), z_dir=(1, 0, 0)), mode=Mode.PRIVATE) as cut_extrude17_sk1:
        with Locations((0, 35.750000001)):
            Rectangle(SKETCH30_W, SKETCH30_H)
    cut_extrude17_tool1 = extrude(cut_extrude17_sk1.sketch, amount=-CUT_EXTRUDE17_REACH, mode=Mode.PRIVATE) & part.part
    add(cut_extrude17_tool1.solids().sort_by_distance((-95.25, 35.75, 0))[0], mode=Mode.SUBTRACT)

    # Sketch31 → Cut-Extrude18 (cut, up to next)
    with BuildSketch(Plane(origin=(-95.25, 0, 0), x_dir=(0, 0, -1), z_dir=(1, 0, 0)), mode=Mode.PRIVATE) as cut_extrude18_sk1:
        with Locations((0, 87.375000002)):
            Rectangle(SKETCH31_W, SKETCH31_H)
    cut_extrude18_tool1 = extrude(cut_extrude18_sk1.sketch, amount=-CUT_EXTRUDE18_REACH, mode=Mode.PRIVATE) & part.part
    add(cut_extrude18_tool1.solids().sort_by_distance((-95.25, 87.375, 0))[0], mode=Mode.SUBTRACT)

    # Fillet1
    fillet1_edges = [part.edges().sort_by_distance(p)[0] for p in [
        (34.675884865, 104.837500002, -6.35),
    ]]
    fillet(fillet1_edges, radius=FILLET1_R)


solid = part.part
